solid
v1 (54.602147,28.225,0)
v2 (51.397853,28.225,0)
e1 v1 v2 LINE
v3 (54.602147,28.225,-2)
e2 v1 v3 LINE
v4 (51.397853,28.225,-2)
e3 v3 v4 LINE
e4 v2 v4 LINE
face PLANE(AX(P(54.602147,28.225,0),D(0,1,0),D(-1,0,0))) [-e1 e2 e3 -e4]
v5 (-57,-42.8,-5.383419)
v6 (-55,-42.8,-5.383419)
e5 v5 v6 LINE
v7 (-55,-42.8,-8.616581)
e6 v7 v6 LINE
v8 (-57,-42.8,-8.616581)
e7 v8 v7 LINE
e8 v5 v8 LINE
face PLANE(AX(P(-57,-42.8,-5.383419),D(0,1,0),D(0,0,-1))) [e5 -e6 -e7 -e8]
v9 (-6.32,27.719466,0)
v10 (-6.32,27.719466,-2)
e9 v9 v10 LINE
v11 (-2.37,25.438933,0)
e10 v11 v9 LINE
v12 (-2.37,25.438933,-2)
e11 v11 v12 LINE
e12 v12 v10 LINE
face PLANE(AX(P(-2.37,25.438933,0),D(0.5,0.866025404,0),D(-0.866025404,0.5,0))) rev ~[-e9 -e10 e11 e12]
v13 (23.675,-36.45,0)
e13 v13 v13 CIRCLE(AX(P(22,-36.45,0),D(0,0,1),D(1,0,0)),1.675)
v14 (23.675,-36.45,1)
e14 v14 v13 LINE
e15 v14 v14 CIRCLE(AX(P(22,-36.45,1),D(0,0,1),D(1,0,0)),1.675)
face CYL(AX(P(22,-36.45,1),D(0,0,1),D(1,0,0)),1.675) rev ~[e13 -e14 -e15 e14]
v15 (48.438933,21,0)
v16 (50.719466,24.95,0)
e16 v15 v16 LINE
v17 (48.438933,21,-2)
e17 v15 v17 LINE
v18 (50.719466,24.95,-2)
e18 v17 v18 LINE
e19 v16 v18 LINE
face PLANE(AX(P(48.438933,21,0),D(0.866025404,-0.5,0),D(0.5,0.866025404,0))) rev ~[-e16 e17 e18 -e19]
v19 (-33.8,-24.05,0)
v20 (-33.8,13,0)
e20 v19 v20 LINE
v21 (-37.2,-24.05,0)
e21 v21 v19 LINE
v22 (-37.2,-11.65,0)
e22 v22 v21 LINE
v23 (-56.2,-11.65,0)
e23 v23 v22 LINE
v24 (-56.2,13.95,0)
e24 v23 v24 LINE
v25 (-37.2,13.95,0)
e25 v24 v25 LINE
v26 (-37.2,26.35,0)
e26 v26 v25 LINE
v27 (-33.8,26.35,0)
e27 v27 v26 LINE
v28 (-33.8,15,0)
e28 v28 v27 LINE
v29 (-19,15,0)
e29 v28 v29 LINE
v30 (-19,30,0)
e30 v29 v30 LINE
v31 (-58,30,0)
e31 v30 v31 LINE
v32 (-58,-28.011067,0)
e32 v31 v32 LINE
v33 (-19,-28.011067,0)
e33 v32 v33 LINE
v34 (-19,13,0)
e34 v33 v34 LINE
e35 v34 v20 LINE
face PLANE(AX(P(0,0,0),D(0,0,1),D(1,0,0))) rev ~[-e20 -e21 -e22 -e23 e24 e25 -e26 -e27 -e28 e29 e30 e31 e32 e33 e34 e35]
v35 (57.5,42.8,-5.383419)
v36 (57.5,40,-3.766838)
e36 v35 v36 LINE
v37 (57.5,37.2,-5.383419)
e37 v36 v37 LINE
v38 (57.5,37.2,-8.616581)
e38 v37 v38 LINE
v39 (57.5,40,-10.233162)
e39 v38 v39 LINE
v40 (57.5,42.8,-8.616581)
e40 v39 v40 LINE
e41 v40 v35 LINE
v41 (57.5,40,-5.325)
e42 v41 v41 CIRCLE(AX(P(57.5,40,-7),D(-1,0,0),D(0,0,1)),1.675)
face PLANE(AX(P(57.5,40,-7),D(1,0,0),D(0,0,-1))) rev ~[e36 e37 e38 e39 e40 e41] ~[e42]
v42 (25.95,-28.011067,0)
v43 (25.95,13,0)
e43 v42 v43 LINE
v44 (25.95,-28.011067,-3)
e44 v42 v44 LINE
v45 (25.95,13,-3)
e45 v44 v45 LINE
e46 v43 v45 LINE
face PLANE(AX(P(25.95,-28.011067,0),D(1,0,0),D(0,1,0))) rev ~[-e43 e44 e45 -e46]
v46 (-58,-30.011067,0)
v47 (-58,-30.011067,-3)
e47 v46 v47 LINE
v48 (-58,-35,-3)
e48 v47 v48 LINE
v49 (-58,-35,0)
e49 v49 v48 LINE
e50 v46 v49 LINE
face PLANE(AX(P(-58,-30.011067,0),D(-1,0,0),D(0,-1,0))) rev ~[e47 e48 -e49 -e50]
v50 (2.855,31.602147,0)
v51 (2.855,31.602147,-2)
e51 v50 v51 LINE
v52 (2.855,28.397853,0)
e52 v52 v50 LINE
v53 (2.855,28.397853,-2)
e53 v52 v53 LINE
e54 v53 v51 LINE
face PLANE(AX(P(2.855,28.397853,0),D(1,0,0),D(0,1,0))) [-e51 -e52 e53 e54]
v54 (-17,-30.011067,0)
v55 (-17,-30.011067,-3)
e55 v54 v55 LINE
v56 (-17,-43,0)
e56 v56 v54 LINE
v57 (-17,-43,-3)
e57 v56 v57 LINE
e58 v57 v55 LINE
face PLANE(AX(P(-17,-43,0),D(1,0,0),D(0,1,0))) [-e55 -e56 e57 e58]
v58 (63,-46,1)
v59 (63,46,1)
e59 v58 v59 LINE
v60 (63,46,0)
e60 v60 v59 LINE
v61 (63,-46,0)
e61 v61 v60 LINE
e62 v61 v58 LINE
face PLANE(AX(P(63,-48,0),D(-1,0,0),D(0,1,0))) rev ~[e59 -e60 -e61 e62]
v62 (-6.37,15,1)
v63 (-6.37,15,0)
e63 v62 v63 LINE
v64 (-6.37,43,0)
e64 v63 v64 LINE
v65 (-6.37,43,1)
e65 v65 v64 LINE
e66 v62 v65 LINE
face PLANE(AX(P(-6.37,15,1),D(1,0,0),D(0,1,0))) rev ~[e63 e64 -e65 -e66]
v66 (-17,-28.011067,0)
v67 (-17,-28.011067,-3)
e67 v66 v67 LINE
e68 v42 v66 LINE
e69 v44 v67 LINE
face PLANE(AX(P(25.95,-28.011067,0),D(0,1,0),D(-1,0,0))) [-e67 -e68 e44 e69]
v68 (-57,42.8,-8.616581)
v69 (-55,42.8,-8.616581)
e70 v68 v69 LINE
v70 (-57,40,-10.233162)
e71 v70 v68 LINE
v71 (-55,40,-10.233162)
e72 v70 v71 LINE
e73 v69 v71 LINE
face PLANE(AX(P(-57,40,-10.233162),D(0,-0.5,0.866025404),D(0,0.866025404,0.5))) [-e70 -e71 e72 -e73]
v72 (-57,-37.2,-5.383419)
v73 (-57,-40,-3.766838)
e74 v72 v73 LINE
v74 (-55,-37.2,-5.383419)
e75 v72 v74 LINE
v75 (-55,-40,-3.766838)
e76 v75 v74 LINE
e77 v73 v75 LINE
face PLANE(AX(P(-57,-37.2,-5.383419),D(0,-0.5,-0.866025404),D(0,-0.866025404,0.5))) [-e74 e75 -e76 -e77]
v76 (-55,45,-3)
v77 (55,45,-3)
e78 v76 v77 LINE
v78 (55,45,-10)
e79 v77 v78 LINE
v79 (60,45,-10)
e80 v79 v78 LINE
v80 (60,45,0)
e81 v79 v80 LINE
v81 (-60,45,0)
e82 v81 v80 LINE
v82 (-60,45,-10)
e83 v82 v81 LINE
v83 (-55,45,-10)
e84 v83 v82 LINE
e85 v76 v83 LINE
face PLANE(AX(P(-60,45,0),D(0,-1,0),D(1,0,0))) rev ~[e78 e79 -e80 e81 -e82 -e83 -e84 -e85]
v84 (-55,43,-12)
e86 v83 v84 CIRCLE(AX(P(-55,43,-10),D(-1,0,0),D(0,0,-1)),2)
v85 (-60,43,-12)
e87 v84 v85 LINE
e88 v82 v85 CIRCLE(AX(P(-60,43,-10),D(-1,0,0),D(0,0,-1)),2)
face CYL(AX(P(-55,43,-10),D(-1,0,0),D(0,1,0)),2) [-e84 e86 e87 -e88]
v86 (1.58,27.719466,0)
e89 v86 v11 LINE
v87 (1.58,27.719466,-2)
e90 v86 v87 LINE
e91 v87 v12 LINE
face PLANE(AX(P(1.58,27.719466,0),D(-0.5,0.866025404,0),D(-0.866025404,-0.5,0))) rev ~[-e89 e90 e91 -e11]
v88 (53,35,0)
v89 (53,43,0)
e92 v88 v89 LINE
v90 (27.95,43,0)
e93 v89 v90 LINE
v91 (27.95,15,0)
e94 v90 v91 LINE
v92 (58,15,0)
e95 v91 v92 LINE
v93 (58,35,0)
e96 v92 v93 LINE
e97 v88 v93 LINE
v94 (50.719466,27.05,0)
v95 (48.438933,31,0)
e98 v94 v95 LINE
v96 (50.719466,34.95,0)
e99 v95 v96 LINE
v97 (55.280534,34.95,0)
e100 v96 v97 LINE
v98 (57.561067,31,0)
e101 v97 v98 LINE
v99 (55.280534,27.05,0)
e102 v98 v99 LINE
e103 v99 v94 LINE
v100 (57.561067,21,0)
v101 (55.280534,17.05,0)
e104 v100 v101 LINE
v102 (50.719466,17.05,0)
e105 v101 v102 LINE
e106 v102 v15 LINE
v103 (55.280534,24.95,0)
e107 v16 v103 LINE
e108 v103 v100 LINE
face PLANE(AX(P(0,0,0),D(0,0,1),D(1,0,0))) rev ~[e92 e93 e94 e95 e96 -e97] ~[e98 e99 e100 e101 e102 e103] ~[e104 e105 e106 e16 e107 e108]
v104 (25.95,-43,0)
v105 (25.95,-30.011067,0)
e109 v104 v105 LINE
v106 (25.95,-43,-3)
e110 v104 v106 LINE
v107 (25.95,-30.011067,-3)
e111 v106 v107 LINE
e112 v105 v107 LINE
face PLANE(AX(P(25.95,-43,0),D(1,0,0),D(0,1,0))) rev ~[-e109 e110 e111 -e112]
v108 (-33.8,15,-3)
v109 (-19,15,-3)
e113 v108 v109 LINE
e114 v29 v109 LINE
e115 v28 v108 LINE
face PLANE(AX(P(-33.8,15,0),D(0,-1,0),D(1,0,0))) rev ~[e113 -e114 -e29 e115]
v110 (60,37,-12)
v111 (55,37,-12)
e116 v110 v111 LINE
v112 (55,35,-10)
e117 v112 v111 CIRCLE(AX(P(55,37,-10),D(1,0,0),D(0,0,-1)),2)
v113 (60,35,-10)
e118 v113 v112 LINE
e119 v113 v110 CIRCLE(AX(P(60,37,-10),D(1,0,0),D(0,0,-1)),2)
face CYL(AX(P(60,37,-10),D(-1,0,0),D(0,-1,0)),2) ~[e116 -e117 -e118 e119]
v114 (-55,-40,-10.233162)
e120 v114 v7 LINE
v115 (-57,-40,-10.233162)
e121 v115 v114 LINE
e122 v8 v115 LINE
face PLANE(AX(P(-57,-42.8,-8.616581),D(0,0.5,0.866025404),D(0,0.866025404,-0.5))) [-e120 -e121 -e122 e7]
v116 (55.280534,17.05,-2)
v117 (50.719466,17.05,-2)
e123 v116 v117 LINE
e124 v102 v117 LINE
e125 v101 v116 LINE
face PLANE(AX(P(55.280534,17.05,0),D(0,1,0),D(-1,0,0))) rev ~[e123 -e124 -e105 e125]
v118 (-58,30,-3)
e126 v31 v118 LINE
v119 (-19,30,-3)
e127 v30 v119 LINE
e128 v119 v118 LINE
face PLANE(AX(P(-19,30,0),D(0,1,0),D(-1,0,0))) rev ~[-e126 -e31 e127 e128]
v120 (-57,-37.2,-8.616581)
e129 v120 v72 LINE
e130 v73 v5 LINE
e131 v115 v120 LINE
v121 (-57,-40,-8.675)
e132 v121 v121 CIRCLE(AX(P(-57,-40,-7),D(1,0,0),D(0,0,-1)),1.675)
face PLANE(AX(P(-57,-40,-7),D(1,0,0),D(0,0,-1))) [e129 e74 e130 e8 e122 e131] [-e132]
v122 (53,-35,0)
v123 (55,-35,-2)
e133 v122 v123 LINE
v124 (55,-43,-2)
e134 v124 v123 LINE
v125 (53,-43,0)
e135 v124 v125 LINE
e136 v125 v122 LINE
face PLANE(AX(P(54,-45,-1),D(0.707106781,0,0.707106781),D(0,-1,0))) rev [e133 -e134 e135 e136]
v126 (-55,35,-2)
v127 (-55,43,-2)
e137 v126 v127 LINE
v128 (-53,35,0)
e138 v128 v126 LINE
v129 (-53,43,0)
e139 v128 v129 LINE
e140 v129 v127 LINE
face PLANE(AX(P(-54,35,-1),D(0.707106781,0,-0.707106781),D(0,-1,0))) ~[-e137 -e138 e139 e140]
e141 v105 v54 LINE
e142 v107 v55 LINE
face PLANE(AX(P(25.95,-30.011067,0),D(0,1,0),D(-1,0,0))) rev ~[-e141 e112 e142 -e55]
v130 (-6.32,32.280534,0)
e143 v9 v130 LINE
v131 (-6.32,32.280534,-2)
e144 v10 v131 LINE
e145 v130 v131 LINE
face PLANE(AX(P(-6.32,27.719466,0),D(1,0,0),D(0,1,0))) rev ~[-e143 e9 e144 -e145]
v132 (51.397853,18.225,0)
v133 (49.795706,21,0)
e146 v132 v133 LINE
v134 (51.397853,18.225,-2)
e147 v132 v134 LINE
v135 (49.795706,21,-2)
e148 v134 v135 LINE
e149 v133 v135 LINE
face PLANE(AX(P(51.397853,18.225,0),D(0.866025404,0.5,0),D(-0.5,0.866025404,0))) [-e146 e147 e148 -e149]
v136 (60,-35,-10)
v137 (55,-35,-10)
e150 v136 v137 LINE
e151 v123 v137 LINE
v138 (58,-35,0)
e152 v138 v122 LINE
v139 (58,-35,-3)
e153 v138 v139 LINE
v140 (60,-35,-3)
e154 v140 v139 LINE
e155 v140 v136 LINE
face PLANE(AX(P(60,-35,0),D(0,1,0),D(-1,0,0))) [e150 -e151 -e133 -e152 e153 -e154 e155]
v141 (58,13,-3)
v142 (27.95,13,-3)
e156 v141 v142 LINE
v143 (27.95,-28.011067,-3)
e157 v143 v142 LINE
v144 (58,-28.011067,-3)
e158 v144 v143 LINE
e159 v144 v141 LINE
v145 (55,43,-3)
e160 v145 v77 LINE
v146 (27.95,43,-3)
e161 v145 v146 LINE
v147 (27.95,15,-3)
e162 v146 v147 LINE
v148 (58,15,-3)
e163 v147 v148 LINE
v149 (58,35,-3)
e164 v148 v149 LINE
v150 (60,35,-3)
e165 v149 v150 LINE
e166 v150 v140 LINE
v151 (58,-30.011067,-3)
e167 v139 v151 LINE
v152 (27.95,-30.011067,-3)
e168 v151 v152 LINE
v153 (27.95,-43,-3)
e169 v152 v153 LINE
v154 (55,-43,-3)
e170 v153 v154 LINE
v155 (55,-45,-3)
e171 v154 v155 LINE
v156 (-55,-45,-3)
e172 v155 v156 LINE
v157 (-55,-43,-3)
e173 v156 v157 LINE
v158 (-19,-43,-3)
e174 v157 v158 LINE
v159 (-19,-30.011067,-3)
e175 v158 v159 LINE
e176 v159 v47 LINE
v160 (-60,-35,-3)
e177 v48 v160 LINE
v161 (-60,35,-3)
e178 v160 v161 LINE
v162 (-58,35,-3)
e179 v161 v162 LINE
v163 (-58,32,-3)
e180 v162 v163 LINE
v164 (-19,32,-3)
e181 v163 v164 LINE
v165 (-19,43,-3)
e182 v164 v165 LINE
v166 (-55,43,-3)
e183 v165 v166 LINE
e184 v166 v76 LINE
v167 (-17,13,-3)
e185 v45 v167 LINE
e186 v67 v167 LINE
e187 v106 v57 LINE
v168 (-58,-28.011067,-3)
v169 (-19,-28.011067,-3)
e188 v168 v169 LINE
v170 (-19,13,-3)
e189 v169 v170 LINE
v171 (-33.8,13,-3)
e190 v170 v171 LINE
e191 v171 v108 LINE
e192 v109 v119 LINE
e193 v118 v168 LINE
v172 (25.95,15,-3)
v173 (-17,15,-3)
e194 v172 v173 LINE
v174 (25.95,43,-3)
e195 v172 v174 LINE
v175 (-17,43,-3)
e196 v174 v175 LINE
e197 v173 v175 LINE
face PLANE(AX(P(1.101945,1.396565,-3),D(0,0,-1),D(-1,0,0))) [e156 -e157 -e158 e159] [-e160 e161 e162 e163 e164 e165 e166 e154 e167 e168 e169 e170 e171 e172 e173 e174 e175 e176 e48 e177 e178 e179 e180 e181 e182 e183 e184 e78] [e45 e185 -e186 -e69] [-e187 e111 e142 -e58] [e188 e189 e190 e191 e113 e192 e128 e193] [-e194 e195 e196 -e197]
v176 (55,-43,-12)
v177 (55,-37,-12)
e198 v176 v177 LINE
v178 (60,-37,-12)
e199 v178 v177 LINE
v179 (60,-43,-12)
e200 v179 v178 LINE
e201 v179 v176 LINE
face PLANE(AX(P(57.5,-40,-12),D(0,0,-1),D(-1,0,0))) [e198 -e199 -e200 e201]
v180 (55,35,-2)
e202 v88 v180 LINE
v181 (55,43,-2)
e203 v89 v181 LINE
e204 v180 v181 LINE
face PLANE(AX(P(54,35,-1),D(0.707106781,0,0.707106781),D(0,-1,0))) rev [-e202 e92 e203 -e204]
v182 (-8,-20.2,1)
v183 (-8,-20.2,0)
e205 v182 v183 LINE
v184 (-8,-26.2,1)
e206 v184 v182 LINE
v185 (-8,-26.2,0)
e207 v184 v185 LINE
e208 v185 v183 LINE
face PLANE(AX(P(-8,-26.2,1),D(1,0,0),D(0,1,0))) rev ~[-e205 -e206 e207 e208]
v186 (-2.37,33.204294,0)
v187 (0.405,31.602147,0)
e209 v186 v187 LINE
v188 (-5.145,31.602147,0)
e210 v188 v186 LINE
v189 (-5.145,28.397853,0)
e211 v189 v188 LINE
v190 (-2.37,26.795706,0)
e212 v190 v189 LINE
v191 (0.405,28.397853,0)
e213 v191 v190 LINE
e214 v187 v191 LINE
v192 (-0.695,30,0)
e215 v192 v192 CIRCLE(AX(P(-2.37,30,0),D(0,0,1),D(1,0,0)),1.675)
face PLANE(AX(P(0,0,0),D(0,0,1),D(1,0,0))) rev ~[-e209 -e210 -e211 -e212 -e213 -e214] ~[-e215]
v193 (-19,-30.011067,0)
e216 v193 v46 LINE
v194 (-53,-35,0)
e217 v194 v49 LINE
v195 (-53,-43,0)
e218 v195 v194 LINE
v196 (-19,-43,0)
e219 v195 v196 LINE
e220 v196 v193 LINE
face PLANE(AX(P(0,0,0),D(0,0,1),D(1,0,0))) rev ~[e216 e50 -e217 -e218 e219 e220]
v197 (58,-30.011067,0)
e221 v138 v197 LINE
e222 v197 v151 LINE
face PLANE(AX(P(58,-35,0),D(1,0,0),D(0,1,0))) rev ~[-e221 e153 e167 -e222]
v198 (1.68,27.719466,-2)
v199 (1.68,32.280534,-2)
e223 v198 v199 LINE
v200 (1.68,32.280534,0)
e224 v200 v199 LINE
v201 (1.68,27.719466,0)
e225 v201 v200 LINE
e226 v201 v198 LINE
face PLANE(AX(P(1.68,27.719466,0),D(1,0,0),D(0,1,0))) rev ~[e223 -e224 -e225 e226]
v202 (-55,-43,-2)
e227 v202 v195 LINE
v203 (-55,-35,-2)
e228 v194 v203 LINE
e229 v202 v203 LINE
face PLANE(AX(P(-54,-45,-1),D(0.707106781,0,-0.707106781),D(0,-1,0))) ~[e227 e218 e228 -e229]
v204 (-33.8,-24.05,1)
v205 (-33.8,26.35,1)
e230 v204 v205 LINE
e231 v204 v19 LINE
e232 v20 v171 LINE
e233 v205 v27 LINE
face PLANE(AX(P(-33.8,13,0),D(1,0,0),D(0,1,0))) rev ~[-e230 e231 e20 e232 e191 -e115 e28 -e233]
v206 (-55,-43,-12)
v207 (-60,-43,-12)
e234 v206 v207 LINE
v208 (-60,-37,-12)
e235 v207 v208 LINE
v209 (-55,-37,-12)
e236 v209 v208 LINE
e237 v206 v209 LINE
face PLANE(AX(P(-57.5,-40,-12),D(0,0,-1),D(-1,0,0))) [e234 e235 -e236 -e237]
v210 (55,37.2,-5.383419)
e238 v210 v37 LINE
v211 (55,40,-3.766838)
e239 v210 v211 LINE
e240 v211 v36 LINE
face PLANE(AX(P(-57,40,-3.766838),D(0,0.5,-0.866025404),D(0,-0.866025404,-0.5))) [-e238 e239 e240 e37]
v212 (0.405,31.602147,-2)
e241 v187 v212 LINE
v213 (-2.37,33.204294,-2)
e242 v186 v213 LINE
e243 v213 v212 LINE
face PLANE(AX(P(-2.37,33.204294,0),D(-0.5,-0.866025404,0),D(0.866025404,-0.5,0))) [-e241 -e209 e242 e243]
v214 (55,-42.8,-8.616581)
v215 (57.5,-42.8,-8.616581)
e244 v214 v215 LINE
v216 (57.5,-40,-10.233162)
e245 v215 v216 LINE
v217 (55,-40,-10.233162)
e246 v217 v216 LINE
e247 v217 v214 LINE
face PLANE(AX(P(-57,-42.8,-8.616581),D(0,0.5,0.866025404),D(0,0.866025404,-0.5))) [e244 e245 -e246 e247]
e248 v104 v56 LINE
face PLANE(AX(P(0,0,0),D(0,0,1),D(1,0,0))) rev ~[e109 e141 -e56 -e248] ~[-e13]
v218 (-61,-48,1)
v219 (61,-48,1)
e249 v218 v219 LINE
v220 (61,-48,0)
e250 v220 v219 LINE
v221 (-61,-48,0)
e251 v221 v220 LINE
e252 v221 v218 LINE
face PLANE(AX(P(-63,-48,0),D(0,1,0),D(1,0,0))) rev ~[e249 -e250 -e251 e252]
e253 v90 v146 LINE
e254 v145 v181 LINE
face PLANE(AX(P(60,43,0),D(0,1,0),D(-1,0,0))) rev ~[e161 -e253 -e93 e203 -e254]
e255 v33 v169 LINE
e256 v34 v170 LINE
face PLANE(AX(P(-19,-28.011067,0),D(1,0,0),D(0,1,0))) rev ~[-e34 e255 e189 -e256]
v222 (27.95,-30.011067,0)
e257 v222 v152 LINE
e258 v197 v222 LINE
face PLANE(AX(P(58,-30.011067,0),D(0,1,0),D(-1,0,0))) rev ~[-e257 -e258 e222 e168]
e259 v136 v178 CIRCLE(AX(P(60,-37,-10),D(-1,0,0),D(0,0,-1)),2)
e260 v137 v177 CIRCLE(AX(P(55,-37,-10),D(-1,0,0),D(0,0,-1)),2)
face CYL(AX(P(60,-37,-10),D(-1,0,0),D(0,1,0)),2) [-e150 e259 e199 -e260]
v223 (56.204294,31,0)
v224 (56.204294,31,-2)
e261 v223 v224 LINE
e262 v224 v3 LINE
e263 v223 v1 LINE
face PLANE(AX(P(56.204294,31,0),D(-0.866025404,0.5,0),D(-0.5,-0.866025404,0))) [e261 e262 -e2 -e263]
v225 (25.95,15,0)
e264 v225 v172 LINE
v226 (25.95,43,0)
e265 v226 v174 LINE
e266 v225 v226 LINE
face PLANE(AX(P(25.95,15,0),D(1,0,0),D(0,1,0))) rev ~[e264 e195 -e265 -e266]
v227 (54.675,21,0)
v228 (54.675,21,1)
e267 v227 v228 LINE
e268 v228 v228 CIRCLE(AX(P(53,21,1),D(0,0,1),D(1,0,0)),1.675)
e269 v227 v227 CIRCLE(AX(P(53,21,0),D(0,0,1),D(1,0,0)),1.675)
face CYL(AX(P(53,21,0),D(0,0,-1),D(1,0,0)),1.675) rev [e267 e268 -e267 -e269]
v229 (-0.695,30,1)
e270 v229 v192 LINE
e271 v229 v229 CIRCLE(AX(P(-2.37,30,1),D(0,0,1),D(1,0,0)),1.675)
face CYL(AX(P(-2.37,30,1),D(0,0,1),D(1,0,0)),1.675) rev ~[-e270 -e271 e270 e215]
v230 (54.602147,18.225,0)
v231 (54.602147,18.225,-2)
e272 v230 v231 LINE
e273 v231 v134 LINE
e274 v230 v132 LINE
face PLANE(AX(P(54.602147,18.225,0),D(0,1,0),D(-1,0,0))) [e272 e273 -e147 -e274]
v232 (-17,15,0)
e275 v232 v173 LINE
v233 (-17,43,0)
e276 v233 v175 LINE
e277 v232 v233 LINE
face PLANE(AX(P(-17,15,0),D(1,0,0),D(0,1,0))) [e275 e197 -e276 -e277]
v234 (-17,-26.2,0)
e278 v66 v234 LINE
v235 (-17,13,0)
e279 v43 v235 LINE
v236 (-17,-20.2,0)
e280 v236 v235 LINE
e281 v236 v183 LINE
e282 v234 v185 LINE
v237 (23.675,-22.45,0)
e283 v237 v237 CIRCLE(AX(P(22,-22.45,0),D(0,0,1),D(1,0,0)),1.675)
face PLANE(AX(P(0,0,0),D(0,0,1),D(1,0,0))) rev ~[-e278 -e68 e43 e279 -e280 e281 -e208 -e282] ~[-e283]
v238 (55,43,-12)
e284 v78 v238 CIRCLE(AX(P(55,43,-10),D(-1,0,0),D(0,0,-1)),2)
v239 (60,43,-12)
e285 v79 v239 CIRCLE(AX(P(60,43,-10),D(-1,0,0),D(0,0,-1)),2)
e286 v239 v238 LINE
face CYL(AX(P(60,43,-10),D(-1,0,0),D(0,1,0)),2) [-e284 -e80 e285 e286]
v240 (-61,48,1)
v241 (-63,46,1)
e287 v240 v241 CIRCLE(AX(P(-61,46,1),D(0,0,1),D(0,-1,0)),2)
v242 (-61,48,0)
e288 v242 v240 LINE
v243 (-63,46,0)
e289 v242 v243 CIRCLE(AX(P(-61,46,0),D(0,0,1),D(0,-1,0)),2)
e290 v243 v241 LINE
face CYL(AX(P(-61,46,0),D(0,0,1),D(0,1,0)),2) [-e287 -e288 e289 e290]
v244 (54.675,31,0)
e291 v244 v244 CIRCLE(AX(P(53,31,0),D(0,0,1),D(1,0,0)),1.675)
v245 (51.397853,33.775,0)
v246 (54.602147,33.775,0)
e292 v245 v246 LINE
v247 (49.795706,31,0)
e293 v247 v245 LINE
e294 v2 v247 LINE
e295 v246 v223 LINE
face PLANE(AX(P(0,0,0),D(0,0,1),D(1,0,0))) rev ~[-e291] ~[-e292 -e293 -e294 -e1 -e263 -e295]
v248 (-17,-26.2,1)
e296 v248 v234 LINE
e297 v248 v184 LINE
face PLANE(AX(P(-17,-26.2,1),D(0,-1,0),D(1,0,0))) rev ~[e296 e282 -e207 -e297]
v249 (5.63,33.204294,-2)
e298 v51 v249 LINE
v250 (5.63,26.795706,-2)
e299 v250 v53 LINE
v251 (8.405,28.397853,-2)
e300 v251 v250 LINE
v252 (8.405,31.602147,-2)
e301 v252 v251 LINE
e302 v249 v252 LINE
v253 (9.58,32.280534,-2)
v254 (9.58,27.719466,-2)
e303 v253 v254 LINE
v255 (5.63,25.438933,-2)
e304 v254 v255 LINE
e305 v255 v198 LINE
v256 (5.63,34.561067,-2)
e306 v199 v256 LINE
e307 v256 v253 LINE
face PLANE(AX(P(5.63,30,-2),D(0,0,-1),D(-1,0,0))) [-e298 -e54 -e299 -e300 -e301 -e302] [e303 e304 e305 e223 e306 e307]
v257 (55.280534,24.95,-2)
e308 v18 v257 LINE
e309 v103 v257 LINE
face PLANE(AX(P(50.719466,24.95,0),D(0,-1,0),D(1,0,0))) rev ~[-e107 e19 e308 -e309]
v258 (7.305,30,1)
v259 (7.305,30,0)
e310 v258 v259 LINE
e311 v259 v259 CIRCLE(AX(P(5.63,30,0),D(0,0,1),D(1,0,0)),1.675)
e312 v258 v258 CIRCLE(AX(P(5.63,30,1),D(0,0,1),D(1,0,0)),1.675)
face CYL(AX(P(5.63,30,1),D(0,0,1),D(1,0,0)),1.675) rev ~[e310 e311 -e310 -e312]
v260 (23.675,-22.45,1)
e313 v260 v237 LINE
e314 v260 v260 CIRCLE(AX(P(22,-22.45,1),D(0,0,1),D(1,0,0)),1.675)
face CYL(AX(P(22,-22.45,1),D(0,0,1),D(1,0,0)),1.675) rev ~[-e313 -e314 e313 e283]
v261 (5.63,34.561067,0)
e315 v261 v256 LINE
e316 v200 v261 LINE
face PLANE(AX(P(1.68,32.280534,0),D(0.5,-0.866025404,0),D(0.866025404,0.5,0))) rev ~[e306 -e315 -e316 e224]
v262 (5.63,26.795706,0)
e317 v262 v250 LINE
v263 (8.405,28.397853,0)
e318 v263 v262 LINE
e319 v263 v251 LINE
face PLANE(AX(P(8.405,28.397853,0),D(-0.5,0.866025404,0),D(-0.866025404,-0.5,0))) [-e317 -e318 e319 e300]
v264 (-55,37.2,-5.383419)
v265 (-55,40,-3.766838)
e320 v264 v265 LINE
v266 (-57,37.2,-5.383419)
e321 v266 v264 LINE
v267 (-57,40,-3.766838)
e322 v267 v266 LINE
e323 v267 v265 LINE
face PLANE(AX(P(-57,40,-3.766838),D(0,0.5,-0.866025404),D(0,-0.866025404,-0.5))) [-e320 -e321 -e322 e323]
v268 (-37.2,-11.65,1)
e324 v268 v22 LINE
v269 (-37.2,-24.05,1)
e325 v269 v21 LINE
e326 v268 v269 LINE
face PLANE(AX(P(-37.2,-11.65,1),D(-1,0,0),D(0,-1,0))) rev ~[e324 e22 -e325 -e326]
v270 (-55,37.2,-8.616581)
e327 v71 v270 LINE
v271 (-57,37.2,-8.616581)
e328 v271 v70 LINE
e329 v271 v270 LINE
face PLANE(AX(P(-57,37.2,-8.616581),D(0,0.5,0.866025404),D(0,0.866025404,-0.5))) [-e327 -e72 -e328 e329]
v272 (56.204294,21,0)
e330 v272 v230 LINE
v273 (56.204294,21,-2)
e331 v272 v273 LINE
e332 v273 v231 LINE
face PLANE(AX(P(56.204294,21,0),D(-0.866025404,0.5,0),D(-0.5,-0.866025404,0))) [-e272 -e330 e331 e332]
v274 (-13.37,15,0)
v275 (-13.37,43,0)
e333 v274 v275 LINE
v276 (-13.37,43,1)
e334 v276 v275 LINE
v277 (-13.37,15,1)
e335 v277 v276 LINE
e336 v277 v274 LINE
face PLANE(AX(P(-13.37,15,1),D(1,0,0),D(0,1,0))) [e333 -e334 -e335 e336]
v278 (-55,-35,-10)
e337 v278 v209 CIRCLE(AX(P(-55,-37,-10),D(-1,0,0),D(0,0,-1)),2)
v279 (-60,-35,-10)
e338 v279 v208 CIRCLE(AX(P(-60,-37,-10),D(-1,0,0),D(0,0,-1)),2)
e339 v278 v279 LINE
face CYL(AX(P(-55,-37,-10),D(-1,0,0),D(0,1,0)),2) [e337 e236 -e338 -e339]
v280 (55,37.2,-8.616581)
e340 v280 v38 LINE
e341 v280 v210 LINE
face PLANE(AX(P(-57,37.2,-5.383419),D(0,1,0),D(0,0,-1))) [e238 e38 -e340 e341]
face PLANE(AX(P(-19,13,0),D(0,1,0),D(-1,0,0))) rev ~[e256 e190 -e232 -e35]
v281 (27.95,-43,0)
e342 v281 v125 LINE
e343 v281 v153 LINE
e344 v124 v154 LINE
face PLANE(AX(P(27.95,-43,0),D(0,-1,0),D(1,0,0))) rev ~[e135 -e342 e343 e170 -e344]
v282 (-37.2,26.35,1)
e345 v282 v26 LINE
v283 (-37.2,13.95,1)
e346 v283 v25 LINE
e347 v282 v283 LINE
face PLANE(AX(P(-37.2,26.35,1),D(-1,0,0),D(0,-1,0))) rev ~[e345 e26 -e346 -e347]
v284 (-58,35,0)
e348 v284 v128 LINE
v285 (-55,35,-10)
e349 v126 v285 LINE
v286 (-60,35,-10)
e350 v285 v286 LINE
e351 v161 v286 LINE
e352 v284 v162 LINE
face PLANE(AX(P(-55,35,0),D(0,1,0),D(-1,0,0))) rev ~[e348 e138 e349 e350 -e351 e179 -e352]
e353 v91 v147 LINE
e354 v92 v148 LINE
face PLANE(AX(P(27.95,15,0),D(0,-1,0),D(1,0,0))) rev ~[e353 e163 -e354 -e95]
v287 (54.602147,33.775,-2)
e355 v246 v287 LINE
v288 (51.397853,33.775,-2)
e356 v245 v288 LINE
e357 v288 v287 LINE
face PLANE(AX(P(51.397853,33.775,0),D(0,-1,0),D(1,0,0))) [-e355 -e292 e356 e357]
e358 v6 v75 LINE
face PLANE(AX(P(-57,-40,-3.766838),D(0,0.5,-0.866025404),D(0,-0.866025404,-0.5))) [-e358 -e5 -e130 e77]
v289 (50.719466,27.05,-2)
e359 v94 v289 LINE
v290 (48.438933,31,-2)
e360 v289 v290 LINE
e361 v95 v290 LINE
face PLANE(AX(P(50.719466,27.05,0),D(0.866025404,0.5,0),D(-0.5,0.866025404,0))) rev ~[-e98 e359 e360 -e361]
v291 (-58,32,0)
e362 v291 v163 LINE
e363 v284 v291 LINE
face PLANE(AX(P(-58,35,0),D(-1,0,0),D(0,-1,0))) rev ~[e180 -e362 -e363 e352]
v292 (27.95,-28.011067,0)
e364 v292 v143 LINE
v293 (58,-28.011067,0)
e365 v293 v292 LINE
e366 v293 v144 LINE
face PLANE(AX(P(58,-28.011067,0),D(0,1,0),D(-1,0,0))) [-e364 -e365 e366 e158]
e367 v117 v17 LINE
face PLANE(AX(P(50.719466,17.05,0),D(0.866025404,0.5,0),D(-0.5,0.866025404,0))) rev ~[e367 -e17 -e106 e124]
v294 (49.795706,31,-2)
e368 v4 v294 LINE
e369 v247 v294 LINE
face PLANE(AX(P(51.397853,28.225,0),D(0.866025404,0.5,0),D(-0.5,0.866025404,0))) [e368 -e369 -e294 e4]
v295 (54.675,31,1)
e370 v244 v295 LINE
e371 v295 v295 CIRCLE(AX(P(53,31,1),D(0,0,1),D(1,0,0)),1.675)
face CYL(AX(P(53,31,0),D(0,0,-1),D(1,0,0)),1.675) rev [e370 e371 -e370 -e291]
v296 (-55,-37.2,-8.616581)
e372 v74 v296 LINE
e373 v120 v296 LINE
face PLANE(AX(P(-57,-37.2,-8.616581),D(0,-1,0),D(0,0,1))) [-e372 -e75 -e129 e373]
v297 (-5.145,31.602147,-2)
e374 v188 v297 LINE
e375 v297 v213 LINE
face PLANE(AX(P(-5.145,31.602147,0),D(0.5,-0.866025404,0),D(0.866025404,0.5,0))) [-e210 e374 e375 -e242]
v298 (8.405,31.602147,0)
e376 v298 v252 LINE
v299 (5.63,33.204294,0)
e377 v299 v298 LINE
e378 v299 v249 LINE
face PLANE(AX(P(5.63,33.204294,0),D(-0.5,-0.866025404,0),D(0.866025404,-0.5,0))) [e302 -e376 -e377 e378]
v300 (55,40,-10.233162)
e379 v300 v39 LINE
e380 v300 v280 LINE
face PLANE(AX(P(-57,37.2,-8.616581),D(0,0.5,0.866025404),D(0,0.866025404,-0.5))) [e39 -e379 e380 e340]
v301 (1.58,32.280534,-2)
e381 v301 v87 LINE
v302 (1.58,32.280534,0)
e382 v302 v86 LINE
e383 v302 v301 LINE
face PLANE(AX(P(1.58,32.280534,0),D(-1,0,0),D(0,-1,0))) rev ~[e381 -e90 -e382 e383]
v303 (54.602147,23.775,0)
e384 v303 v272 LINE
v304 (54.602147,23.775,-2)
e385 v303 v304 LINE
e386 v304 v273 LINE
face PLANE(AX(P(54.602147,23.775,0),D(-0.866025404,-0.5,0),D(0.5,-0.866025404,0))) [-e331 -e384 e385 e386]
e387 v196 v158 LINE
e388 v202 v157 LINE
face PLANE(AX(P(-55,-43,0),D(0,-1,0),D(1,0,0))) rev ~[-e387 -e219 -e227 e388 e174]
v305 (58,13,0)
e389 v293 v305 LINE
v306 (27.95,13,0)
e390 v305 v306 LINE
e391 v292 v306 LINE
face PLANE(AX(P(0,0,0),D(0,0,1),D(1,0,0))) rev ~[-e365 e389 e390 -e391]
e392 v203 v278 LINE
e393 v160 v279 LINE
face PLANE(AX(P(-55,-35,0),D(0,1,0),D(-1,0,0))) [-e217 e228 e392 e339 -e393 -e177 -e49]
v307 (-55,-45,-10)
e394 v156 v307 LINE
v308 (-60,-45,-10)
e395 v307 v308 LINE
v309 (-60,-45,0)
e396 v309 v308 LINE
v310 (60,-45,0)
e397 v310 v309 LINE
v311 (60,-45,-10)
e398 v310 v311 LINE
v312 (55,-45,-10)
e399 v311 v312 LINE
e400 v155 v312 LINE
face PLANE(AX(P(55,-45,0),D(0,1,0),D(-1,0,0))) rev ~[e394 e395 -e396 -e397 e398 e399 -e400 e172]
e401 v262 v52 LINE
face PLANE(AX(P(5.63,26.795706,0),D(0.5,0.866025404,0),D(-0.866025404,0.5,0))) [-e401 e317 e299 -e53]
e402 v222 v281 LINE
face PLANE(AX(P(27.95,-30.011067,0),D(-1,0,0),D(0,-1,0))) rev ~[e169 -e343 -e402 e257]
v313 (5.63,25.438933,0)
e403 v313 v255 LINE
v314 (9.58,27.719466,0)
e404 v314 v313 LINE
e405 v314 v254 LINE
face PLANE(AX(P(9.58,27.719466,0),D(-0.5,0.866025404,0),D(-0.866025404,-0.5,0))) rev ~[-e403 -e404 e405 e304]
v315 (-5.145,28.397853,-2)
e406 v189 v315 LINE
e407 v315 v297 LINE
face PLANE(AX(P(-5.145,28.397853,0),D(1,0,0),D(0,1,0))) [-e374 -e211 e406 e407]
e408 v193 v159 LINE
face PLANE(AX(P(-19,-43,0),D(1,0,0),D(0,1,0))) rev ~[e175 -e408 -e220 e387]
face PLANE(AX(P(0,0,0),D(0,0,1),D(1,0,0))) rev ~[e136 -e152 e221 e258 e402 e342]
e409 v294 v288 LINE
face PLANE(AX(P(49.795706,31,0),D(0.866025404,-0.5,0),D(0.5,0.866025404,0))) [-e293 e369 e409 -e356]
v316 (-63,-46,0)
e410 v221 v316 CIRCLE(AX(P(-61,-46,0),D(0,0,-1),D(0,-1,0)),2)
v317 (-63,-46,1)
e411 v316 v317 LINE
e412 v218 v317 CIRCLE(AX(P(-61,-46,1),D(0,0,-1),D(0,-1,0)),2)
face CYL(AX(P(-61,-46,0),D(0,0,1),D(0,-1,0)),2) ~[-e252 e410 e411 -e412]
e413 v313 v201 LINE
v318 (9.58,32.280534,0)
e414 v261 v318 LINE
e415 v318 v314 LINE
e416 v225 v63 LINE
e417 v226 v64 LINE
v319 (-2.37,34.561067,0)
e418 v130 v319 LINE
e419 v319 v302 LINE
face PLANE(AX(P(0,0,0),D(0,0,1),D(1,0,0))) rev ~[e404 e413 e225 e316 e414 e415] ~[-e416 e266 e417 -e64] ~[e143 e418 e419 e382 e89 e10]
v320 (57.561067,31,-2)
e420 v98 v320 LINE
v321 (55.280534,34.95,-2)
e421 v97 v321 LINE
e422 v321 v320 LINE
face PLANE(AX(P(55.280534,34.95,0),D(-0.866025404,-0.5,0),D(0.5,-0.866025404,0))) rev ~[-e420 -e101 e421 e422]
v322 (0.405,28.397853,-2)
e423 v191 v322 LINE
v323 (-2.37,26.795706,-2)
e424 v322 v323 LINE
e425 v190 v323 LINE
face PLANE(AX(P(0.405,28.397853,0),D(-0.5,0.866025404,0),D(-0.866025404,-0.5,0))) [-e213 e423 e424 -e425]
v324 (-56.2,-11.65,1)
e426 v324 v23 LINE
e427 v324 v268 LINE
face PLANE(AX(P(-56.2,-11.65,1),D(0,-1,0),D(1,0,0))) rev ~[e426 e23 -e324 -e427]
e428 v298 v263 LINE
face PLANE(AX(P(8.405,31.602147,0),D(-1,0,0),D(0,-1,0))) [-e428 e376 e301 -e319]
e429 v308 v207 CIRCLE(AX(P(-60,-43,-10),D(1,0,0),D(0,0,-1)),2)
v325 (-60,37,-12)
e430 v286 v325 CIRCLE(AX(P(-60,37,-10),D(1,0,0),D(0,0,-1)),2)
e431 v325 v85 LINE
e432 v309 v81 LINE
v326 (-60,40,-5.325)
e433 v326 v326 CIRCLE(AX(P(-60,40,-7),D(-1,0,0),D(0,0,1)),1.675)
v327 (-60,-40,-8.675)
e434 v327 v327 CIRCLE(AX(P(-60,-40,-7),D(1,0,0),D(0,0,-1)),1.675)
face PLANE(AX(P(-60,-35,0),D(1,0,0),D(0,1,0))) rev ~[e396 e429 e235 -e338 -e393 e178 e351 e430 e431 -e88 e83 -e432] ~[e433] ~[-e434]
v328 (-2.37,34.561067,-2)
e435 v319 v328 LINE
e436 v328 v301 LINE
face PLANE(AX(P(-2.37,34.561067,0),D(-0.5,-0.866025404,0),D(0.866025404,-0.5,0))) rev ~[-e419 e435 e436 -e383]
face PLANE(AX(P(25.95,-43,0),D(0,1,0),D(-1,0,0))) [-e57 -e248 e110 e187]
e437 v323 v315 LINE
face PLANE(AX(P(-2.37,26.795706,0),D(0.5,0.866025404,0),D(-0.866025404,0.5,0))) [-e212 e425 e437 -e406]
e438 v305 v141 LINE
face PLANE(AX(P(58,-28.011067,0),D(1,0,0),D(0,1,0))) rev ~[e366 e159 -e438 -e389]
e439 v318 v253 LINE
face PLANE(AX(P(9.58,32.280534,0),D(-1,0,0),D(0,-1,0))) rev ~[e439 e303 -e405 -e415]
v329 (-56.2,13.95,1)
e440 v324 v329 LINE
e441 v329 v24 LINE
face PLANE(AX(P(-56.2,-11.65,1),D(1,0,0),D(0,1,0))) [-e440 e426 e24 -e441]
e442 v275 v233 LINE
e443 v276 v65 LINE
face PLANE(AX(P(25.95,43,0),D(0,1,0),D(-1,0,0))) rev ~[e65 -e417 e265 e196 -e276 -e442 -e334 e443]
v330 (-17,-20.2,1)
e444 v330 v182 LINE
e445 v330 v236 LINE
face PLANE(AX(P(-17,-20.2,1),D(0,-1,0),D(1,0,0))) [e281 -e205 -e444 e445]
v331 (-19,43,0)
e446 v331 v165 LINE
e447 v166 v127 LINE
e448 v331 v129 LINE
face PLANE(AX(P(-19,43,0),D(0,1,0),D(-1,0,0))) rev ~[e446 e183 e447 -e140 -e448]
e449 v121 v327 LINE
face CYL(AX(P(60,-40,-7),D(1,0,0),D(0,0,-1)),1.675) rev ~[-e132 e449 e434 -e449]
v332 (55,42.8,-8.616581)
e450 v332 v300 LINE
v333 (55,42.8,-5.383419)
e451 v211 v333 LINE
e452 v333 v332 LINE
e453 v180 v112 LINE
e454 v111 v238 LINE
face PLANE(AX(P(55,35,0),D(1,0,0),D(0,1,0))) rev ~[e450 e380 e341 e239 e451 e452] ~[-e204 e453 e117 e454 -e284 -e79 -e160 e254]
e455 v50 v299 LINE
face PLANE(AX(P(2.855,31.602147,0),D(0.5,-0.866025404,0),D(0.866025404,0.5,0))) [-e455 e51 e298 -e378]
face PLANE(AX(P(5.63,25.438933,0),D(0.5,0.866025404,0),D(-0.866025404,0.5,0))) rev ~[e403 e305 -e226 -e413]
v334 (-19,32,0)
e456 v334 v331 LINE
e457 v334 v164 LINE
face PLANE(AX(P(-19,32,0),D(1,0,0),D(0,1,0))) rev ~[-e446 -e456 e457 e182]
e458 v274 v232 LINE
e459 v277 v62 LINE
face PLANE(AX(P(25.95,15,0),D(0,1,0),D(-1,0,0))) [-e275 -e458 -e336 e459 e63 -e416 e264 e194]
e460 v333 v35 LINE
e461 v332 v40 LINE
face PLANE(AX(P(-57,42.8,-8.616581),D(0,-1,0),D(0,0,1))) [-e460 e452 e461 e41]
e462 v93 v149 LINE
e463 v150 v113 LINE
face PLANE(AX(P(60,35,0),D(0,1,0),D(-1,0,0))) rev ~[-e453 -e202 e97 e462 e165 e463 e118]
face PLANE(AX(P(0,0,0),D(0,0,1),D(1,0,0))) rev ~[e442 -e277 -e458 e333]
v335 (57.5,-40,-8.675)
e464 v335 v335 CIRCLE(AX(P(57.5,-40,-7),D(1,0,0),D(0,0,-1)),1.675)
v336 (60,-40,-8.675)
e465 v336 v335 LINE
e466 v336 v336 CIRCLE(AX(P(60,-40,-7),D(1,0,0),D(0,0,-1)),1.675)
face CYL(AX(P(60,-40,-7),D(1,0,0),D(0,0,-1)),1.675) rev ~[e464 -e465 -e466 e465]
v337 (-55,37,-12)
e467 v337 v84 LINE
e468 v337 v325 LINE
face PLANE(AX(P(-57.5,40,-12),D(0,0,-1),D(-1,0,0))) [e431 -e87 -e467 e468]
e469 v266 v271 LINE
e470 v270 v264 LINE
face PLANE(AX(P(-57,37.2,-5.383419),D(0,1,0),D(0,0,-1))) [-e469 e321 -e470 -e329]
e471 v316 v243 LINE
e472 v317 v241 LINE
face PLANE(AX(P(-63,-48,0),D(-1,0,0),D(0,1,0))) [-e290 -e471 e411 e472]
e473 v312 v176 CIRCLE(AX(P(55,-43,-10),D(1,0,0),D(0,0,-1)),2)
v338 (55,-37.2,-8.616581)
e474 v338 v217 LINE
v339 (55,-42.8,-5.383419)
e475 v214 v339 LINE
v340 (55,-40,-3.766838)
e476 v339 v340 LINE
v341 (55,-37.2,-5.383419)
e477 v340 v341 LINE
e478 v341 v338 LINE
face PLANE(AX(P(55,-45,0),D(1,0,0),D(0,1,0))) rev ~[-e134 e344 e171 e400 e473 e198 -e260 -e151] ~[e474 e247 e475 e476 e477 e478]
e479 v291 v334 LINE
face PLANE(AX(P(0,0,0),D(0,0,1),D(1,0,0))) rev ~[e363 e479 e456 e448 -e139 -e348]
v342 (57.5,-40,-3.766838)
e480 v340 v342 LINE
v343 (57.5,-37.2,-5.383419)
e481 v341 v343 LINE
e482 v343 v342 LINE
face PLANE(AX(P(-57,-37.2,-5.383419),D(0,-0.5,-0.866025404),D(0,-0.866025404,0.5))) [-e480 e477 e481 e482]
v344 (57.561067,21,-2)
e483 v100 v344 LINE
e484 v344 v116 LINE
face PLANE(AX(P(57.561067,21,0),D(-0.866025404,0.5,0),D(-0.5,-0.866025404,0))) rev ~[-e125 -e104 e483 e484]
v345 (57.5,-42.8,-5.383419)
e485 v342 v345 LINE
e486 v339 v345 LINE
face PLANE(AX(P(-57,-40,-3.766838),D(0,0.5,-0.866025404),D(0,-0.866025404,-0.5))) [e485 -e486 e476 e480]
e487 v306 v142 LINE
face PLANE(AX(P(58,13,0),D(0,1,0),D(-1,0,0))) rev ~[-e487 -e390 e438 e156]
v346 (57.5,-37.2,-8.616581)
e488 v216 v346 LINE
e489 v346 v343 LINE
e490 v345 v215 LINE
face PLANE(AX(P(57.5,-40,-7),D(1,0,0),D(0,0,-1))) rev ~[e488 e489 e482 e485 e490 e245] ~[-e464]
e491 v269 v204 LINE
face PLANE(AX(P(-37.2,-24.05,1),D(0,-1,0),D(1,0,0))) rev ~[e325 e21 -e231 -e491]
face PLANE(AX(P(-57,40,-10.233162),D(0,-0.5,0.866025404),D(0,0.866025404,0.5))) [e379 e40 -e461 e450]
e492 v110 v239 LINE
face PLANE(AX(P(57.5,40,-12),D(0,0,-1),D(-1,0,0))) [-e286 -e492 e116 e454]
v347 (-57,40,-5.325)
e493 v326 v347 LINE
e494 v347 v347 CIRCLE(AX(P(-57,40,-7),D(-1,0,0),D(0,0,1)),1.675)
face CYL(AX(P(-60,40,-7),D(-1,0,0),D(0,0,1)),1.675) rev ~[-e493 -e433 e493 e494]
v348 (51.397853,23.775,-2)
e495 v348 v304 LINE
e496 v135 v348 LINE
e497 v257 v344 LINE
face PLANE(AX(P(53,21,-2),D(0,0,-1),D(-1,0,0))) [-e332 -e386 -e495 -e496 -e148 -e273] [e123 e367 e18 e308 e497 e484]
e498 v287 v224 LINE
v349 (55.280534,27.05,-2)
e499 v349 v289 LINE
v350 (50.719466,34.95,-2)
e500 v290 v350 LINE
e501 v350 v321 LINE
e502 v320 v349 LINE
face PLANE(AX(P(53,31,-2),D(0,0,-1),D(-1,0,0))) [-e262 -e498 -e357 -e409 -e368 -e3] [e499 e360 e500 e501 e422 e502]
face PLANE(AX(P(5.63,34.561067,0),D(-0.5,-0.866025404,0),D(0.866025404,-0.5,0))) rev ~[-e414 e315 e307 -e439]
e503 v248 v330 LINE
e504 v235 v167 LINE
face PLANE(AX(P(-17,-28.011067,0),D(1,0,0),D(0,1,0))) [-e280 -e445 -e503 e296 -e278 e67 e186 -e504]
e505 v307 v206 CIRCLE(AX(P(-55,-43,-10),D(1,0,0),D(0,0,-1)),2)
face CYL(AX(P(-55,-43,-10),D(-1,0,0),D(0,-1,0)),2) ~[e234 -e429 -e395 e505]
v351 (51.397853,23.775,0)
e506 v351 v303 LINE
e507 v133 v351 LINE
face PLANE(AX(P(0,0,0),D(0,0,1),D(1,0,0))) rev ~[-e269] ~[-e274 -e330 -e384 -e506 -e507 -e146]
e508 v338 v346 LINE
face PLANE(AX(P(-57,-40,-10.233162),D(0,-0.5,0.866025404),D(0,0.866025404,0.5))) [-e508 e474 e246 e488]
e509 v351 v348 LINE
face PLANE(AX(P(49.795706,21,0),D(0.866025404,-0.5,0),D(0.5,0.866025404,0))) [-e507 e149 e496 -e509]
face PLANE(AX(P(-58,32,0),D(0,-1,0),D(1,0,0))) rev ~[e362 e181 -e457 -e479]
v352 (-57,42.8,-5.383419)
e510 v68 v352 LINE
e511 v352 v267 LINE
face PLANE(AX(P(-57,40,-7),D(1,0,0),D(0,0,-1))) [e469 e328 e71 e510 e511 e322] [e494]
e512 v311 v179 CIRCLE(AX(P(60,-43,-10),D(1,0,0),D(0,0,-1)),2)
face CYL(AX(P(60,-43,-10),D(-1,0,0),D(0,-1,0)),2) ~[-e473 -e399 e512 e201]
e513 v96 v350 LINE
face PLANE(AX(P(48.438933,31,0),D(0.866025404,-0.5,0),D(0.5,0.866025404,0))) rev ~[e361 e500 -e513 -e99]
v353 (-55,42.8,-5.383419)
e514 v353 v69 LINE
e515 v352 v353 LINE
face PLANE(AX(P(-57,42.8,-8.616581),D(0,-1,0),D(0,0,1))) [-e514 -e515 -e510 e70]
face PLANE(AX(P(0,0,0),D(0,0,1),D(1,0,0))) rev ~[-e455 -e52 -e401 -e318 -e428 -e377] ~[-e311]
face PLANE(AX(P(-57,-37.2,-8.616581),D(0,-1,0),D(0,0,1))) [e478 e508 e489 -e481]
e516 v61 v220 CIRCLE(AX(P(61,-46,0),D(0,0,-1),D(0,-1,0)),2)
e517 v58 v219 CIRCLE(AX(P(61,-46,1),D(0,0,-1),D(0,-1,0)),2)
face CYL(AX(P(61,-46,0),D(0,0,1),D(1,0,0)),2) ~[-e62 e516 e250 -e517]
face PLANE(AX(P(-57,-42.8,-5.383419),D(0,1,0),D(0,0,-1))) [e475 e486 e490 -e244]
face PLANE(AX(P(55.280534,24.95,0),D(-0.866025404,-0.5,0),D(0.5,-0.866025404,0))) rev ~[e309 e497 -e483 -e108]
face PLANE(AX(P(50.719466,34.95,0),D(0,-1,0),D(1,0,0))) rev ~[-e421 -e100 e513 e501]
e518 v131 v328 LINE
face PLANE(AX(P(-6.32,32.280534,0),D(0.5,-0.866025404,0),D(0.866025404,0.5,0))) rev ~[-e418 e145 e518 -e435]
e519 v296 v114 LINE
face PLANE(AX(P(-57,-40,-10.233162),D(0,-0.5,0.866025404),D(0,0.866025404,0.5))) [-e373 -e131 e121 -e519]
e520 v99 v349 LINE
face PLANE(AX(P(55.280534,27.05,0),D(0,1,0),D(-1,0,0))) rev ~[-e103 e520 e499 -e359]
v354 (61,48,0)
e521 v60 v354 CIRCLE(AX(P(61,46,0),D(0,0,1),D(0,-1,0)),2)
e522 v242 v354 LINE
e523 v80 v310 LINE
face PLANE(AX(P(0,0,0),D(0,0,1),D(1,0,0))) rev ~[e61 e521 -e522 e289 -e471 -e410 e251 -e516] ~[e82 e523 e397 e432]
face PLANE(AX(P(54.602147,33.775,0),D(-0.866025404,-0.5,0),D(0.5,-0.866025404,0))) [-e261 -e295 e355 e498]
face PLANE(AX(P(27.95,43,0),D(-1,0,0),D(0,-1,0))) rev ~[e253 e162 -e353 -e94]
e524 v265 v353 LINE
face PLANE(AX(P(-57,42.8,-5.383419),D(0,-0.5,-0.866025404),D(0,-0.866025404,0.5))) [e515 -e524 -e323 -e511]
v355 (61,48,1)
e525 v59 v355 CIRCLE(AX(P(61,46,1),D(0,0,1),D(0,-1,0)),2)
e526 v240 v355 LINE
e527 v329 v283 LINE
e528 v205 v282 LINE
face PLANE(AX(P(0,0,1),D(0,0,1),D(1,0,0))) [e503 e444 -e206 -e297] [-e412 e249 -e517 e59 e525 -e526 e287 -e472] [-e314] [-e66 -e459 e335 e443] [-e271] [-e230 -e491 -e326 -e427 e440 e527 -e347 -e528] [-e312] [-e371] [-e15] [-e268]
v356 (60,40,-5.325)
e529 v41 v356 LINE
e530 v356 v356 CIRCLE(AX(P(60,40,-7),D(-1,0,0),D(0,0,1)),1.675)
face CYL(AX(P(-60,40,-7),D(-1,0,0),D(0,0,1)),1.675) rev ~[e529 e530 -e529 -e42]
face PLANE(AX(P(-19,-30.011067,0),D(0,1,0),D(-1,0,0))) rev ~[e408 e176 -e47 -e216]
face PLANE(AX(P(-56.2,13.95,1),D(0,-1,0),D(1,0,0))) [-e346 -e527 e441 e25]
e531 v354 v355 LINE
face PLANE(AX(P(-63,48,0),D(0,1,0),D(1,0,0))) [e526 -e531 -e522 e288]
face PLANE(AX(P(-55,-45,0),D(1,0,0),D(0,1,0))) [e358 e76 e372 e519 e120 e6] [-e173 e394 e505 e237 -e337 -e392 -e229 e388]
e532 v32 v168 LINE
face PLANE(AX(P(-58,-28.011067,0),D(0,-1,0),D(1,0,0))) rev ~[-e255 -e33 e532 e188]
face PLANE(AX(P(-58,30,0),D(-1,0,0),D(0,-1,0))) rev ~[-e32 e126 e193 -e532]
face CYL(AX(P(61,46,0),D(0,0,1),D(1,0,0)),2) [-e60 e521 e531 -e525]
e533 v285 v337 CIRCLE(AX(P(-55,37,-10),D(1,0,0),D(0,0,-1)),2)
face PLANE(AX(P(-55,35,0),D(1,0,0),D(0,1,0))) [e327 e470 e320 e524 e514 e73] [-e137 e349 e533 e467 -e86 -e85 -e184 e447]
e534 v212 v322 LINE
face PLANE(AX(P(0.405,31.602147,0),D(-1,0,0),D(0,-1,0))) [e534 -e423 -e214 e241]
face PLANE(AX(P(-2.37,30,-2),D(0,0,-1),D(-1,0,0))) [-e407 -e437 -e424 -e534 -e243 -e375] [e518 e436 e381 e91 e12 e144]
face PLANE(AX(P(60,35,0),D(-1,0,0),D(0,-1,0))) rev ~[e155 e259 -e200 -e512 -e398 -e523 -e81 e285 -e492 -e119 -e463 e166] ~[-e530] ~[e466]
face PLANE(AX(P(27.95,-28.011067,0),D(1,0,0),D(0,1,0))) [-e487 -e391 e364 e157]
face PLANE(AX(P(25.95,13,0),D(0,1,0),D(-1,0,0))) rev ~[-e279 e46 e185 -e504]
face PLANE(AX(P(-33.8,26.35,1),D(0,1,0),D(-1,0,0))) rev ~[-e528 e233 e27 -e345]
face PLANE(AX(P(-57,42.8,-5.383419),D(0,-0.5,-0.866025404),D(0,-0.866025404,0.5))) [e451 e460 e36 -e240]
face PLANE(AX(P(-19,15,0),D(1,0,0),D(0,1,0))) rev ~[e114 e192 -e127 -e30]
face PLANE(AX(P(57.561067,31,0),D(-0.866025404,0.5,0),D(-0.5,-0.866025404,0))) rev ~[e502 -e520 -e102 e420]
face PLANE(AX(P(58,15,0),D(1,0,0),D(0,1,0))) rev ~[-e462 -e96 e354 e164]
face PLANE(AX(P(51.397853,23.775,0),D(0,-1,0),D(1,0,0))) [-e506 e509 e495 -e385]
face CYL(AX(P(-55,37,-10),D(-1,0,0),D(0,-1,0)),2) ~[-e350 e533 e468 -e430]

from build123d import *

# Parameters (mm, degrees)
SKETCH1_W            = 126
SKETCH1_H            = 96
SKETCH1_R            = 1.675
BOSS_EXTRUDE1_DEPTH  = 1
SKETCH2_W            = 5
SKETCH2_H            = 10
BOSS_EXTRUDE2_DEPTH  = 12
CUT_EXTRUDE1_REACH   = 134.578
SKETCH3_R            = 1.675
CUT_EXTRUDE2_START   = -2
CUT_EXTRUDE2_DEPTH   = 114.5
CHAMFER1_SIZE        = 2
CUT_EXTRUDE3_REACH   = 134.578
SKETCH5_R            = 1.675
CUT_EXTRUDE4_START   = -2
CUT_EXTRUDE4_DEPTH   = 114.5
SKETCH7_R            = 1.675
CUT_EXTRUDE5_DEPTH   = 10
SKETCH9_W            = 7
SKETCH9_H            = 28
CUT_EXTRUDE7_DEPTH   = 10
SKETCH11_R           = 1.675
SKETCH11_W           = 9
SKETCH11_H           = 6
CUT_EXTRUDE8_DEPTH   = 10
BOSS_EXTRUDE3_DEPTH  = 2
SKETCH24_W           = 19
SKETCH24_H           = 25.6
CUT_EXTRUDE17_DEPTH  = 2
FILLET1_R            = 2
SKETCH26_W           = 42.95
SKETCH26_H           = 12.988932873
SKETCH26_W_2         = 30.05
SKETCH26_H_2         = 41.011067127
SKETCH26_H_3         = 28
BOSS_EXTRUDE10_DEPTH = 3
FILLET2_R            = 2


with BuildPart() as part:
    # Sketch1 → Boss-Extrude1 (new body)
    with BuildSketch(Plane.XY):
        Rectangle(SKETCH1_W, SKETCH1_H)
        with Locations((53, 31)):
            Circle(SKETCH1_R, mode=Mode.SUBTRACT)
        with Locations((53, 21)):
            Circle(SKETCH1_R, mode=Mode.SUBTRACT)
    extrude(amount=BOSS_EXTRUDE1_DEPTH)

    # Sketch2 → Boss-Extrude2 (add)
    with BuildSketch(Plane(origin=(0, 0, 0), x_dir=(-1, 0, 0), z_dir=(0, 0, -1))):
        with Locations((-57.5, 40)):
            Rectangle(SKETCH2_W, SKETCH2_H)
        with Locations((57.5, 40)):
            Rectangle(SKETCH2_W, SKETCH2_H)
        with Locations((-57.5, -40)):
            Rectangle(SKETCH2_W, SKETCH2_H)
        with Locations((57.5, -40)):
            Rectangle(SKETCH2_W, SKETCH2_H)
    extrude(amount=BOSS_EXTRUDE2_DEPTH)

    # Cut-Extrude1: up to this face of the body (flat: up to its plane)
    cut_extrude1_end = Plane(part.part.faces().sort_by_distance((60, 40, -6))[0])
    # Sketch3 → Cut-Extrude1 (cut, up to the picked face)
    with BuildSketch(Plane.ZY.offset(60), mode=Mode.PRIVATE) as cut_extrude1_sk1:
        with Locations((-7, 40)):
            Circle(SKETCH3_R)
    cut_extrude1_tool1 = split(extrude(cut_extrude1_sk1.sketch, amount=-CUT_EXTRUDE1_REACH, mode=Mode.PRIVATE), bisect_by=cut_extrude1_end, keep=Keep.BOTH, mode=Mode.PRIVATE)
    add(cut_extrude1_tool1.solids().sort_by(Axis((-60, 40, -7), (1, 0, 0)))[0], mode=Mode.SUBTRACT)

    # Sketch4 → Cut-Extrude2 (cut)
    with BuildSketch(Plane(origin=(-55, 0, 0), x_dir=(0, 0, -1), z_dir=(1, 0, 0)).offset(CUT_EXTRUDE2_START)):
        Polygon((8.616580754, 42.8), (5.383419246, 42.8), (3.766838493, 40), (5.383419246, 37.2), (8.616580754, 37.2), (10.233161507, 40), align=None)
    extrude(amount=CUT_EXTRUDE2_DEPTH, mode=Mode.SUBTRACT)

    # Chamfer1
    chamfer1_edges = [part.edges().sort_by_distance(p)[0] for p in [
        (55, 40, 0),
        (-55, 40, 0),
        (55, -40, 0),
        (-55, -40, 0),
    ]]
    chamfer(chamfer1_edges, length=CHAMFER1_SIZE)

    # Cut-Extrude3: up to this face of the body (flat: up to its plane)
    cut_extrude3_end = Plane(part.part.faces().sort_by_distance((-60, -40, -6))[0])
    # Sketch5 → Cut-Extrude3 (cut, up to the picked face)
    with BuildSketch(Plane(origin=(60, 0, 0), x_dir=(0, 0, -1), z_dir=(1, 0, 0)), mode=Mode.PRIVATE) as cut_extrude3_sk1:
        with Locations((7, -40)):
            Circle(SKETCH5_R)
    cut_extrude3_tool1 = split(extrude(cut_extrude3_sk1.sketch, amount=-CUT_EXTRUDE3_REACH, mode=Mode.PRIVATE), bisect_by=cut_extrude3_end, keep=Keep.BOTH, mode=Mode.PRIVATE)
    add(cut_extrude3_tool1.solids().sort_by(Axis((60, -40, -7), (-1, 0, 0)))[0], mode=Mode.SUBTRACT)

    # Sketch6 → Cut-Extrude4 (cut)
    with BuildSketch(Plane(origin=(-55, 0, 0), x_dir=(0, 0, -1), z_dir=(1, 0, 0)).offset(CUT_EXTRUDE4_START)):
        Polygon((8.616580754, -37.2), (5.383419246, -37.2), (3.766838493, -40), (5.383419246, -42.8), (8.616580754, -42.8), (10.233161507, -40), align=None)
    extrude(amount=CUT_EXTRUDE4_DEPTH, mode=Mode.SUBTRACT)

    # Sketch7 → Cut-Extrude5 (cut)
    with BuildSketch(Plane.XY.offset(1)):
        with Locations((5.63, 30)):
            Circle(SKETCH7_R)
        with Locations((-2.37, 30)):
            Circle(SKETCH7_R)
    extrude(amount=-CUT_EXTRUDE5_DEPTH, mode=Mode.SUBTRACT)

    # Sketch9 → Cut-Extrude7 (cut)
    with BuildSketch(Plane.XY.offset(1)):
        with Locations((-9.87, 29)):
            Rectangle(SKETCH9_W, SKETCH9_H)
    extrude(amount=-CUT_EXTRUDE7_DEPTH, mode=Mode.SUBTRACT)

    # Sketch11 → Cut-Extrude8 (cut)
    with BuildSketch(Plane.XY.offset(1)):
        with Locations((22, -36.45)):
            Circle(SKETCH11_R)
        with Locations((22, -22.45)):
            Circle(SKETCH11_R)
        with Locations((-12.5, -23.2)):
            Rectangle(SKETCH11_W, SKETCH11_H)
    extrude(amount=-CUT_EXTRUDE8_DEPTH, mode=Mode.SUBTRACT)

    # Sketch21 → Boss-Extrude3 (add)
    # profile 1 of 4: a face of its own
    with BuildSketch(Plane(origin=(0, 0, 0), x_dir=(-1, 0, 0), z_dir=(0, 0, -1))):
        Polygon((-50.719466437, 24.95), (-55.280533563, 24.95), (-57.561067127, 21), (-55.280533563, 17.05), (-50.719466437, 17.05), (-48.438932873, 21), align=None)
        Polygon((-51.397853003, 23.775), (-54.602146997, 23.775), (-56.204293994, 21), (-54.602146997, 18.225), (-51.397853003, 18.225), (-49.795706006, 21), align=None, mode=Mode.SUBTRACT)
    # profile 2 of 4: a face of its own
    with BuildSketch(Plane(origin=(0, 0, 0), x_dir=(-1, 0, 0), z_dir=(0, 0, -1))):
        Polygon((-50.719466437, 34.95), (-55.280533563, 34.95), (-57.561067127, 31), (-55.280533563, 27.05), (-50.719466437, 27.05), (-48.438932873, 31), align=None)
        Polygon((-51.397853003, 33.775), (-54.602146997, 33.775), (-56.204293994, 31), (-54.602146997, 28.225), (-51.397853003, 28.225), (-49.795706006, 31), align=None, mode=Mode.SUBTRACT)
    # profile 3 of 4: a face of its own
    with BuildSketch(Plane(origin=(0, 0, 0), x_dir=(-1, 0, 0), z_dir=(0, 0, -1))):
        Polygon((6.32, 32.280533563), (2.37, 34.561067127), (-1.58, 32.280533563), (-1.58, 27.719466437), (2.37, 25.438932873), (6.32, 27.719466437), align=None)
        Polygon((5.145, 31.602146997), (2.37, 33.204293994), (-0.405, 31.602146997), (-0.405, 28.397853003), (2.37, 26.795706006), (5.145, 28.397853003), align=None, mode=Mode.SUBTRACT)
    # profile 4 of 4: a face of its own
    with BuildSketch(Plane(origin=(0, 0, 0), x_dir=(-1, 0, 0), z_dir=(0, 0, -1))):
        Polygon((-1.68, 32.280533563), (-5.63, 34.561067127), (-9.58, 32.280533563), (-9.58, 27.719466437), (-5.63, 25.438932873), (-1.68, 27.719466437), align=None)
        Polygon((-2.855, 31.602146997), (-5.63, 33.204293994), (-8.405, 31.602146997), (-8.405, 28.397853003), (-5.63, 26.795706006), (-2.855, 28.397853003), align=None, mode=Mode.SUBTRACT)
    extrude(amount=BOSS_EXTRUDE3_DEPTH)

    # Sketch24 → Cut-Extrude17 (cut)
    with BuildSketch(Plane.XY.offset(1)):
        with Locations((-46.7, 1.15)):
            Rectangle(SKETCH24_W, SKETCH24_H)
        Polygon((-37.2, 26.35), (-37.2, 13.95), (-37.2, -11.65), (-37.2, -24.05), (-33.8, -24.05), (-33.8, 26.35), align=None)
    extrude(amount=-CUT_EXTRUDE17_DEPTH, mode=Mode.SUBTRACT)

    # Fillet1
    fillet1_edges = [part.edges().sort_by_distance(p)[0] for p in [
        (57.5, 45, -12),
        (57.5, 35, -12),
        (-57.5, 45, -12),
        (-57.5, 35, -12),
        (57.5, -35, -12),
        (57.5, -45, -12),
        (-57.5, -35, -12),
        (-57.5, -45, -12),
    ]]
    fillet(fillet1_edges, radius=FILLET1_R)

    # Sketch26 → Boss-Extrude10 (add)
    with BuildSketch(Plane(origin=(0, 0, 0), x_dir=(-1, 0, 0), z_dir=(0, 0, -1))):
        Polygon((-27.95, -30.011067127), (-27.95, -43), (-55, -43), (-55, -45), (55, -45), (55, -43), (19, -43), (19, -30.011067127), (58, -30.011067127), (58, -35), (60, -35), (60, 35), (58, 35), (58, 32), (19, 32), (19, 43), (60, 43), (60, 45), (-60, 45), (-60, 43), (-27.95, 43), (-27.95, 15), (-58, 15), (-58, 35), (-60, 35), (-60, -35), (-58, -35), (-58, -30.011067127), align=None)
        with Locations((-4.475, -36.505533564)):
            Rectangle(SKETCH26_W, SKETCH26_H, mode=Mode.SUBTRACT)
        with Locations((-42.975, -7.505533564)):
            Rectangle(SKETCH26_W_2, SKETCH26_H_2, mode=Mode.SUBTRACT)
        with Locations((-4.475, -7.505533564)):
            Rectangle(SKETCH26_W, SKETCH26_H_2, mode=Mode.SUBTRACT)
        with Locations((-4.475, 29)):
            Rectangle(SKETCH26_W, SKETCH26_H_3, mode=Mode.SUBTRACT)
        Polygon((19, 15), (19, 30), (58, 30), (58, -28.011067127), (19, -28.011067127), (19, 13), (33.8, 13), (33.8, 15), align=None, mode=Mode.SUBTRACT)
    extrude(amount=BOSS_EXTRUDE10_DEPTH)

    # Fillet2
    fillet2_edges = [part.edges().sort_by_distance(p)[0] for p in [
        (-63, 48, 0.5),
        (63, 48, 0.5),
        (63, -48, 0.5),
        (-63, -48, 0.5),
    ]]
    fillet(fillet2_edges, radius=FILLET2_R)


solid = part.part
